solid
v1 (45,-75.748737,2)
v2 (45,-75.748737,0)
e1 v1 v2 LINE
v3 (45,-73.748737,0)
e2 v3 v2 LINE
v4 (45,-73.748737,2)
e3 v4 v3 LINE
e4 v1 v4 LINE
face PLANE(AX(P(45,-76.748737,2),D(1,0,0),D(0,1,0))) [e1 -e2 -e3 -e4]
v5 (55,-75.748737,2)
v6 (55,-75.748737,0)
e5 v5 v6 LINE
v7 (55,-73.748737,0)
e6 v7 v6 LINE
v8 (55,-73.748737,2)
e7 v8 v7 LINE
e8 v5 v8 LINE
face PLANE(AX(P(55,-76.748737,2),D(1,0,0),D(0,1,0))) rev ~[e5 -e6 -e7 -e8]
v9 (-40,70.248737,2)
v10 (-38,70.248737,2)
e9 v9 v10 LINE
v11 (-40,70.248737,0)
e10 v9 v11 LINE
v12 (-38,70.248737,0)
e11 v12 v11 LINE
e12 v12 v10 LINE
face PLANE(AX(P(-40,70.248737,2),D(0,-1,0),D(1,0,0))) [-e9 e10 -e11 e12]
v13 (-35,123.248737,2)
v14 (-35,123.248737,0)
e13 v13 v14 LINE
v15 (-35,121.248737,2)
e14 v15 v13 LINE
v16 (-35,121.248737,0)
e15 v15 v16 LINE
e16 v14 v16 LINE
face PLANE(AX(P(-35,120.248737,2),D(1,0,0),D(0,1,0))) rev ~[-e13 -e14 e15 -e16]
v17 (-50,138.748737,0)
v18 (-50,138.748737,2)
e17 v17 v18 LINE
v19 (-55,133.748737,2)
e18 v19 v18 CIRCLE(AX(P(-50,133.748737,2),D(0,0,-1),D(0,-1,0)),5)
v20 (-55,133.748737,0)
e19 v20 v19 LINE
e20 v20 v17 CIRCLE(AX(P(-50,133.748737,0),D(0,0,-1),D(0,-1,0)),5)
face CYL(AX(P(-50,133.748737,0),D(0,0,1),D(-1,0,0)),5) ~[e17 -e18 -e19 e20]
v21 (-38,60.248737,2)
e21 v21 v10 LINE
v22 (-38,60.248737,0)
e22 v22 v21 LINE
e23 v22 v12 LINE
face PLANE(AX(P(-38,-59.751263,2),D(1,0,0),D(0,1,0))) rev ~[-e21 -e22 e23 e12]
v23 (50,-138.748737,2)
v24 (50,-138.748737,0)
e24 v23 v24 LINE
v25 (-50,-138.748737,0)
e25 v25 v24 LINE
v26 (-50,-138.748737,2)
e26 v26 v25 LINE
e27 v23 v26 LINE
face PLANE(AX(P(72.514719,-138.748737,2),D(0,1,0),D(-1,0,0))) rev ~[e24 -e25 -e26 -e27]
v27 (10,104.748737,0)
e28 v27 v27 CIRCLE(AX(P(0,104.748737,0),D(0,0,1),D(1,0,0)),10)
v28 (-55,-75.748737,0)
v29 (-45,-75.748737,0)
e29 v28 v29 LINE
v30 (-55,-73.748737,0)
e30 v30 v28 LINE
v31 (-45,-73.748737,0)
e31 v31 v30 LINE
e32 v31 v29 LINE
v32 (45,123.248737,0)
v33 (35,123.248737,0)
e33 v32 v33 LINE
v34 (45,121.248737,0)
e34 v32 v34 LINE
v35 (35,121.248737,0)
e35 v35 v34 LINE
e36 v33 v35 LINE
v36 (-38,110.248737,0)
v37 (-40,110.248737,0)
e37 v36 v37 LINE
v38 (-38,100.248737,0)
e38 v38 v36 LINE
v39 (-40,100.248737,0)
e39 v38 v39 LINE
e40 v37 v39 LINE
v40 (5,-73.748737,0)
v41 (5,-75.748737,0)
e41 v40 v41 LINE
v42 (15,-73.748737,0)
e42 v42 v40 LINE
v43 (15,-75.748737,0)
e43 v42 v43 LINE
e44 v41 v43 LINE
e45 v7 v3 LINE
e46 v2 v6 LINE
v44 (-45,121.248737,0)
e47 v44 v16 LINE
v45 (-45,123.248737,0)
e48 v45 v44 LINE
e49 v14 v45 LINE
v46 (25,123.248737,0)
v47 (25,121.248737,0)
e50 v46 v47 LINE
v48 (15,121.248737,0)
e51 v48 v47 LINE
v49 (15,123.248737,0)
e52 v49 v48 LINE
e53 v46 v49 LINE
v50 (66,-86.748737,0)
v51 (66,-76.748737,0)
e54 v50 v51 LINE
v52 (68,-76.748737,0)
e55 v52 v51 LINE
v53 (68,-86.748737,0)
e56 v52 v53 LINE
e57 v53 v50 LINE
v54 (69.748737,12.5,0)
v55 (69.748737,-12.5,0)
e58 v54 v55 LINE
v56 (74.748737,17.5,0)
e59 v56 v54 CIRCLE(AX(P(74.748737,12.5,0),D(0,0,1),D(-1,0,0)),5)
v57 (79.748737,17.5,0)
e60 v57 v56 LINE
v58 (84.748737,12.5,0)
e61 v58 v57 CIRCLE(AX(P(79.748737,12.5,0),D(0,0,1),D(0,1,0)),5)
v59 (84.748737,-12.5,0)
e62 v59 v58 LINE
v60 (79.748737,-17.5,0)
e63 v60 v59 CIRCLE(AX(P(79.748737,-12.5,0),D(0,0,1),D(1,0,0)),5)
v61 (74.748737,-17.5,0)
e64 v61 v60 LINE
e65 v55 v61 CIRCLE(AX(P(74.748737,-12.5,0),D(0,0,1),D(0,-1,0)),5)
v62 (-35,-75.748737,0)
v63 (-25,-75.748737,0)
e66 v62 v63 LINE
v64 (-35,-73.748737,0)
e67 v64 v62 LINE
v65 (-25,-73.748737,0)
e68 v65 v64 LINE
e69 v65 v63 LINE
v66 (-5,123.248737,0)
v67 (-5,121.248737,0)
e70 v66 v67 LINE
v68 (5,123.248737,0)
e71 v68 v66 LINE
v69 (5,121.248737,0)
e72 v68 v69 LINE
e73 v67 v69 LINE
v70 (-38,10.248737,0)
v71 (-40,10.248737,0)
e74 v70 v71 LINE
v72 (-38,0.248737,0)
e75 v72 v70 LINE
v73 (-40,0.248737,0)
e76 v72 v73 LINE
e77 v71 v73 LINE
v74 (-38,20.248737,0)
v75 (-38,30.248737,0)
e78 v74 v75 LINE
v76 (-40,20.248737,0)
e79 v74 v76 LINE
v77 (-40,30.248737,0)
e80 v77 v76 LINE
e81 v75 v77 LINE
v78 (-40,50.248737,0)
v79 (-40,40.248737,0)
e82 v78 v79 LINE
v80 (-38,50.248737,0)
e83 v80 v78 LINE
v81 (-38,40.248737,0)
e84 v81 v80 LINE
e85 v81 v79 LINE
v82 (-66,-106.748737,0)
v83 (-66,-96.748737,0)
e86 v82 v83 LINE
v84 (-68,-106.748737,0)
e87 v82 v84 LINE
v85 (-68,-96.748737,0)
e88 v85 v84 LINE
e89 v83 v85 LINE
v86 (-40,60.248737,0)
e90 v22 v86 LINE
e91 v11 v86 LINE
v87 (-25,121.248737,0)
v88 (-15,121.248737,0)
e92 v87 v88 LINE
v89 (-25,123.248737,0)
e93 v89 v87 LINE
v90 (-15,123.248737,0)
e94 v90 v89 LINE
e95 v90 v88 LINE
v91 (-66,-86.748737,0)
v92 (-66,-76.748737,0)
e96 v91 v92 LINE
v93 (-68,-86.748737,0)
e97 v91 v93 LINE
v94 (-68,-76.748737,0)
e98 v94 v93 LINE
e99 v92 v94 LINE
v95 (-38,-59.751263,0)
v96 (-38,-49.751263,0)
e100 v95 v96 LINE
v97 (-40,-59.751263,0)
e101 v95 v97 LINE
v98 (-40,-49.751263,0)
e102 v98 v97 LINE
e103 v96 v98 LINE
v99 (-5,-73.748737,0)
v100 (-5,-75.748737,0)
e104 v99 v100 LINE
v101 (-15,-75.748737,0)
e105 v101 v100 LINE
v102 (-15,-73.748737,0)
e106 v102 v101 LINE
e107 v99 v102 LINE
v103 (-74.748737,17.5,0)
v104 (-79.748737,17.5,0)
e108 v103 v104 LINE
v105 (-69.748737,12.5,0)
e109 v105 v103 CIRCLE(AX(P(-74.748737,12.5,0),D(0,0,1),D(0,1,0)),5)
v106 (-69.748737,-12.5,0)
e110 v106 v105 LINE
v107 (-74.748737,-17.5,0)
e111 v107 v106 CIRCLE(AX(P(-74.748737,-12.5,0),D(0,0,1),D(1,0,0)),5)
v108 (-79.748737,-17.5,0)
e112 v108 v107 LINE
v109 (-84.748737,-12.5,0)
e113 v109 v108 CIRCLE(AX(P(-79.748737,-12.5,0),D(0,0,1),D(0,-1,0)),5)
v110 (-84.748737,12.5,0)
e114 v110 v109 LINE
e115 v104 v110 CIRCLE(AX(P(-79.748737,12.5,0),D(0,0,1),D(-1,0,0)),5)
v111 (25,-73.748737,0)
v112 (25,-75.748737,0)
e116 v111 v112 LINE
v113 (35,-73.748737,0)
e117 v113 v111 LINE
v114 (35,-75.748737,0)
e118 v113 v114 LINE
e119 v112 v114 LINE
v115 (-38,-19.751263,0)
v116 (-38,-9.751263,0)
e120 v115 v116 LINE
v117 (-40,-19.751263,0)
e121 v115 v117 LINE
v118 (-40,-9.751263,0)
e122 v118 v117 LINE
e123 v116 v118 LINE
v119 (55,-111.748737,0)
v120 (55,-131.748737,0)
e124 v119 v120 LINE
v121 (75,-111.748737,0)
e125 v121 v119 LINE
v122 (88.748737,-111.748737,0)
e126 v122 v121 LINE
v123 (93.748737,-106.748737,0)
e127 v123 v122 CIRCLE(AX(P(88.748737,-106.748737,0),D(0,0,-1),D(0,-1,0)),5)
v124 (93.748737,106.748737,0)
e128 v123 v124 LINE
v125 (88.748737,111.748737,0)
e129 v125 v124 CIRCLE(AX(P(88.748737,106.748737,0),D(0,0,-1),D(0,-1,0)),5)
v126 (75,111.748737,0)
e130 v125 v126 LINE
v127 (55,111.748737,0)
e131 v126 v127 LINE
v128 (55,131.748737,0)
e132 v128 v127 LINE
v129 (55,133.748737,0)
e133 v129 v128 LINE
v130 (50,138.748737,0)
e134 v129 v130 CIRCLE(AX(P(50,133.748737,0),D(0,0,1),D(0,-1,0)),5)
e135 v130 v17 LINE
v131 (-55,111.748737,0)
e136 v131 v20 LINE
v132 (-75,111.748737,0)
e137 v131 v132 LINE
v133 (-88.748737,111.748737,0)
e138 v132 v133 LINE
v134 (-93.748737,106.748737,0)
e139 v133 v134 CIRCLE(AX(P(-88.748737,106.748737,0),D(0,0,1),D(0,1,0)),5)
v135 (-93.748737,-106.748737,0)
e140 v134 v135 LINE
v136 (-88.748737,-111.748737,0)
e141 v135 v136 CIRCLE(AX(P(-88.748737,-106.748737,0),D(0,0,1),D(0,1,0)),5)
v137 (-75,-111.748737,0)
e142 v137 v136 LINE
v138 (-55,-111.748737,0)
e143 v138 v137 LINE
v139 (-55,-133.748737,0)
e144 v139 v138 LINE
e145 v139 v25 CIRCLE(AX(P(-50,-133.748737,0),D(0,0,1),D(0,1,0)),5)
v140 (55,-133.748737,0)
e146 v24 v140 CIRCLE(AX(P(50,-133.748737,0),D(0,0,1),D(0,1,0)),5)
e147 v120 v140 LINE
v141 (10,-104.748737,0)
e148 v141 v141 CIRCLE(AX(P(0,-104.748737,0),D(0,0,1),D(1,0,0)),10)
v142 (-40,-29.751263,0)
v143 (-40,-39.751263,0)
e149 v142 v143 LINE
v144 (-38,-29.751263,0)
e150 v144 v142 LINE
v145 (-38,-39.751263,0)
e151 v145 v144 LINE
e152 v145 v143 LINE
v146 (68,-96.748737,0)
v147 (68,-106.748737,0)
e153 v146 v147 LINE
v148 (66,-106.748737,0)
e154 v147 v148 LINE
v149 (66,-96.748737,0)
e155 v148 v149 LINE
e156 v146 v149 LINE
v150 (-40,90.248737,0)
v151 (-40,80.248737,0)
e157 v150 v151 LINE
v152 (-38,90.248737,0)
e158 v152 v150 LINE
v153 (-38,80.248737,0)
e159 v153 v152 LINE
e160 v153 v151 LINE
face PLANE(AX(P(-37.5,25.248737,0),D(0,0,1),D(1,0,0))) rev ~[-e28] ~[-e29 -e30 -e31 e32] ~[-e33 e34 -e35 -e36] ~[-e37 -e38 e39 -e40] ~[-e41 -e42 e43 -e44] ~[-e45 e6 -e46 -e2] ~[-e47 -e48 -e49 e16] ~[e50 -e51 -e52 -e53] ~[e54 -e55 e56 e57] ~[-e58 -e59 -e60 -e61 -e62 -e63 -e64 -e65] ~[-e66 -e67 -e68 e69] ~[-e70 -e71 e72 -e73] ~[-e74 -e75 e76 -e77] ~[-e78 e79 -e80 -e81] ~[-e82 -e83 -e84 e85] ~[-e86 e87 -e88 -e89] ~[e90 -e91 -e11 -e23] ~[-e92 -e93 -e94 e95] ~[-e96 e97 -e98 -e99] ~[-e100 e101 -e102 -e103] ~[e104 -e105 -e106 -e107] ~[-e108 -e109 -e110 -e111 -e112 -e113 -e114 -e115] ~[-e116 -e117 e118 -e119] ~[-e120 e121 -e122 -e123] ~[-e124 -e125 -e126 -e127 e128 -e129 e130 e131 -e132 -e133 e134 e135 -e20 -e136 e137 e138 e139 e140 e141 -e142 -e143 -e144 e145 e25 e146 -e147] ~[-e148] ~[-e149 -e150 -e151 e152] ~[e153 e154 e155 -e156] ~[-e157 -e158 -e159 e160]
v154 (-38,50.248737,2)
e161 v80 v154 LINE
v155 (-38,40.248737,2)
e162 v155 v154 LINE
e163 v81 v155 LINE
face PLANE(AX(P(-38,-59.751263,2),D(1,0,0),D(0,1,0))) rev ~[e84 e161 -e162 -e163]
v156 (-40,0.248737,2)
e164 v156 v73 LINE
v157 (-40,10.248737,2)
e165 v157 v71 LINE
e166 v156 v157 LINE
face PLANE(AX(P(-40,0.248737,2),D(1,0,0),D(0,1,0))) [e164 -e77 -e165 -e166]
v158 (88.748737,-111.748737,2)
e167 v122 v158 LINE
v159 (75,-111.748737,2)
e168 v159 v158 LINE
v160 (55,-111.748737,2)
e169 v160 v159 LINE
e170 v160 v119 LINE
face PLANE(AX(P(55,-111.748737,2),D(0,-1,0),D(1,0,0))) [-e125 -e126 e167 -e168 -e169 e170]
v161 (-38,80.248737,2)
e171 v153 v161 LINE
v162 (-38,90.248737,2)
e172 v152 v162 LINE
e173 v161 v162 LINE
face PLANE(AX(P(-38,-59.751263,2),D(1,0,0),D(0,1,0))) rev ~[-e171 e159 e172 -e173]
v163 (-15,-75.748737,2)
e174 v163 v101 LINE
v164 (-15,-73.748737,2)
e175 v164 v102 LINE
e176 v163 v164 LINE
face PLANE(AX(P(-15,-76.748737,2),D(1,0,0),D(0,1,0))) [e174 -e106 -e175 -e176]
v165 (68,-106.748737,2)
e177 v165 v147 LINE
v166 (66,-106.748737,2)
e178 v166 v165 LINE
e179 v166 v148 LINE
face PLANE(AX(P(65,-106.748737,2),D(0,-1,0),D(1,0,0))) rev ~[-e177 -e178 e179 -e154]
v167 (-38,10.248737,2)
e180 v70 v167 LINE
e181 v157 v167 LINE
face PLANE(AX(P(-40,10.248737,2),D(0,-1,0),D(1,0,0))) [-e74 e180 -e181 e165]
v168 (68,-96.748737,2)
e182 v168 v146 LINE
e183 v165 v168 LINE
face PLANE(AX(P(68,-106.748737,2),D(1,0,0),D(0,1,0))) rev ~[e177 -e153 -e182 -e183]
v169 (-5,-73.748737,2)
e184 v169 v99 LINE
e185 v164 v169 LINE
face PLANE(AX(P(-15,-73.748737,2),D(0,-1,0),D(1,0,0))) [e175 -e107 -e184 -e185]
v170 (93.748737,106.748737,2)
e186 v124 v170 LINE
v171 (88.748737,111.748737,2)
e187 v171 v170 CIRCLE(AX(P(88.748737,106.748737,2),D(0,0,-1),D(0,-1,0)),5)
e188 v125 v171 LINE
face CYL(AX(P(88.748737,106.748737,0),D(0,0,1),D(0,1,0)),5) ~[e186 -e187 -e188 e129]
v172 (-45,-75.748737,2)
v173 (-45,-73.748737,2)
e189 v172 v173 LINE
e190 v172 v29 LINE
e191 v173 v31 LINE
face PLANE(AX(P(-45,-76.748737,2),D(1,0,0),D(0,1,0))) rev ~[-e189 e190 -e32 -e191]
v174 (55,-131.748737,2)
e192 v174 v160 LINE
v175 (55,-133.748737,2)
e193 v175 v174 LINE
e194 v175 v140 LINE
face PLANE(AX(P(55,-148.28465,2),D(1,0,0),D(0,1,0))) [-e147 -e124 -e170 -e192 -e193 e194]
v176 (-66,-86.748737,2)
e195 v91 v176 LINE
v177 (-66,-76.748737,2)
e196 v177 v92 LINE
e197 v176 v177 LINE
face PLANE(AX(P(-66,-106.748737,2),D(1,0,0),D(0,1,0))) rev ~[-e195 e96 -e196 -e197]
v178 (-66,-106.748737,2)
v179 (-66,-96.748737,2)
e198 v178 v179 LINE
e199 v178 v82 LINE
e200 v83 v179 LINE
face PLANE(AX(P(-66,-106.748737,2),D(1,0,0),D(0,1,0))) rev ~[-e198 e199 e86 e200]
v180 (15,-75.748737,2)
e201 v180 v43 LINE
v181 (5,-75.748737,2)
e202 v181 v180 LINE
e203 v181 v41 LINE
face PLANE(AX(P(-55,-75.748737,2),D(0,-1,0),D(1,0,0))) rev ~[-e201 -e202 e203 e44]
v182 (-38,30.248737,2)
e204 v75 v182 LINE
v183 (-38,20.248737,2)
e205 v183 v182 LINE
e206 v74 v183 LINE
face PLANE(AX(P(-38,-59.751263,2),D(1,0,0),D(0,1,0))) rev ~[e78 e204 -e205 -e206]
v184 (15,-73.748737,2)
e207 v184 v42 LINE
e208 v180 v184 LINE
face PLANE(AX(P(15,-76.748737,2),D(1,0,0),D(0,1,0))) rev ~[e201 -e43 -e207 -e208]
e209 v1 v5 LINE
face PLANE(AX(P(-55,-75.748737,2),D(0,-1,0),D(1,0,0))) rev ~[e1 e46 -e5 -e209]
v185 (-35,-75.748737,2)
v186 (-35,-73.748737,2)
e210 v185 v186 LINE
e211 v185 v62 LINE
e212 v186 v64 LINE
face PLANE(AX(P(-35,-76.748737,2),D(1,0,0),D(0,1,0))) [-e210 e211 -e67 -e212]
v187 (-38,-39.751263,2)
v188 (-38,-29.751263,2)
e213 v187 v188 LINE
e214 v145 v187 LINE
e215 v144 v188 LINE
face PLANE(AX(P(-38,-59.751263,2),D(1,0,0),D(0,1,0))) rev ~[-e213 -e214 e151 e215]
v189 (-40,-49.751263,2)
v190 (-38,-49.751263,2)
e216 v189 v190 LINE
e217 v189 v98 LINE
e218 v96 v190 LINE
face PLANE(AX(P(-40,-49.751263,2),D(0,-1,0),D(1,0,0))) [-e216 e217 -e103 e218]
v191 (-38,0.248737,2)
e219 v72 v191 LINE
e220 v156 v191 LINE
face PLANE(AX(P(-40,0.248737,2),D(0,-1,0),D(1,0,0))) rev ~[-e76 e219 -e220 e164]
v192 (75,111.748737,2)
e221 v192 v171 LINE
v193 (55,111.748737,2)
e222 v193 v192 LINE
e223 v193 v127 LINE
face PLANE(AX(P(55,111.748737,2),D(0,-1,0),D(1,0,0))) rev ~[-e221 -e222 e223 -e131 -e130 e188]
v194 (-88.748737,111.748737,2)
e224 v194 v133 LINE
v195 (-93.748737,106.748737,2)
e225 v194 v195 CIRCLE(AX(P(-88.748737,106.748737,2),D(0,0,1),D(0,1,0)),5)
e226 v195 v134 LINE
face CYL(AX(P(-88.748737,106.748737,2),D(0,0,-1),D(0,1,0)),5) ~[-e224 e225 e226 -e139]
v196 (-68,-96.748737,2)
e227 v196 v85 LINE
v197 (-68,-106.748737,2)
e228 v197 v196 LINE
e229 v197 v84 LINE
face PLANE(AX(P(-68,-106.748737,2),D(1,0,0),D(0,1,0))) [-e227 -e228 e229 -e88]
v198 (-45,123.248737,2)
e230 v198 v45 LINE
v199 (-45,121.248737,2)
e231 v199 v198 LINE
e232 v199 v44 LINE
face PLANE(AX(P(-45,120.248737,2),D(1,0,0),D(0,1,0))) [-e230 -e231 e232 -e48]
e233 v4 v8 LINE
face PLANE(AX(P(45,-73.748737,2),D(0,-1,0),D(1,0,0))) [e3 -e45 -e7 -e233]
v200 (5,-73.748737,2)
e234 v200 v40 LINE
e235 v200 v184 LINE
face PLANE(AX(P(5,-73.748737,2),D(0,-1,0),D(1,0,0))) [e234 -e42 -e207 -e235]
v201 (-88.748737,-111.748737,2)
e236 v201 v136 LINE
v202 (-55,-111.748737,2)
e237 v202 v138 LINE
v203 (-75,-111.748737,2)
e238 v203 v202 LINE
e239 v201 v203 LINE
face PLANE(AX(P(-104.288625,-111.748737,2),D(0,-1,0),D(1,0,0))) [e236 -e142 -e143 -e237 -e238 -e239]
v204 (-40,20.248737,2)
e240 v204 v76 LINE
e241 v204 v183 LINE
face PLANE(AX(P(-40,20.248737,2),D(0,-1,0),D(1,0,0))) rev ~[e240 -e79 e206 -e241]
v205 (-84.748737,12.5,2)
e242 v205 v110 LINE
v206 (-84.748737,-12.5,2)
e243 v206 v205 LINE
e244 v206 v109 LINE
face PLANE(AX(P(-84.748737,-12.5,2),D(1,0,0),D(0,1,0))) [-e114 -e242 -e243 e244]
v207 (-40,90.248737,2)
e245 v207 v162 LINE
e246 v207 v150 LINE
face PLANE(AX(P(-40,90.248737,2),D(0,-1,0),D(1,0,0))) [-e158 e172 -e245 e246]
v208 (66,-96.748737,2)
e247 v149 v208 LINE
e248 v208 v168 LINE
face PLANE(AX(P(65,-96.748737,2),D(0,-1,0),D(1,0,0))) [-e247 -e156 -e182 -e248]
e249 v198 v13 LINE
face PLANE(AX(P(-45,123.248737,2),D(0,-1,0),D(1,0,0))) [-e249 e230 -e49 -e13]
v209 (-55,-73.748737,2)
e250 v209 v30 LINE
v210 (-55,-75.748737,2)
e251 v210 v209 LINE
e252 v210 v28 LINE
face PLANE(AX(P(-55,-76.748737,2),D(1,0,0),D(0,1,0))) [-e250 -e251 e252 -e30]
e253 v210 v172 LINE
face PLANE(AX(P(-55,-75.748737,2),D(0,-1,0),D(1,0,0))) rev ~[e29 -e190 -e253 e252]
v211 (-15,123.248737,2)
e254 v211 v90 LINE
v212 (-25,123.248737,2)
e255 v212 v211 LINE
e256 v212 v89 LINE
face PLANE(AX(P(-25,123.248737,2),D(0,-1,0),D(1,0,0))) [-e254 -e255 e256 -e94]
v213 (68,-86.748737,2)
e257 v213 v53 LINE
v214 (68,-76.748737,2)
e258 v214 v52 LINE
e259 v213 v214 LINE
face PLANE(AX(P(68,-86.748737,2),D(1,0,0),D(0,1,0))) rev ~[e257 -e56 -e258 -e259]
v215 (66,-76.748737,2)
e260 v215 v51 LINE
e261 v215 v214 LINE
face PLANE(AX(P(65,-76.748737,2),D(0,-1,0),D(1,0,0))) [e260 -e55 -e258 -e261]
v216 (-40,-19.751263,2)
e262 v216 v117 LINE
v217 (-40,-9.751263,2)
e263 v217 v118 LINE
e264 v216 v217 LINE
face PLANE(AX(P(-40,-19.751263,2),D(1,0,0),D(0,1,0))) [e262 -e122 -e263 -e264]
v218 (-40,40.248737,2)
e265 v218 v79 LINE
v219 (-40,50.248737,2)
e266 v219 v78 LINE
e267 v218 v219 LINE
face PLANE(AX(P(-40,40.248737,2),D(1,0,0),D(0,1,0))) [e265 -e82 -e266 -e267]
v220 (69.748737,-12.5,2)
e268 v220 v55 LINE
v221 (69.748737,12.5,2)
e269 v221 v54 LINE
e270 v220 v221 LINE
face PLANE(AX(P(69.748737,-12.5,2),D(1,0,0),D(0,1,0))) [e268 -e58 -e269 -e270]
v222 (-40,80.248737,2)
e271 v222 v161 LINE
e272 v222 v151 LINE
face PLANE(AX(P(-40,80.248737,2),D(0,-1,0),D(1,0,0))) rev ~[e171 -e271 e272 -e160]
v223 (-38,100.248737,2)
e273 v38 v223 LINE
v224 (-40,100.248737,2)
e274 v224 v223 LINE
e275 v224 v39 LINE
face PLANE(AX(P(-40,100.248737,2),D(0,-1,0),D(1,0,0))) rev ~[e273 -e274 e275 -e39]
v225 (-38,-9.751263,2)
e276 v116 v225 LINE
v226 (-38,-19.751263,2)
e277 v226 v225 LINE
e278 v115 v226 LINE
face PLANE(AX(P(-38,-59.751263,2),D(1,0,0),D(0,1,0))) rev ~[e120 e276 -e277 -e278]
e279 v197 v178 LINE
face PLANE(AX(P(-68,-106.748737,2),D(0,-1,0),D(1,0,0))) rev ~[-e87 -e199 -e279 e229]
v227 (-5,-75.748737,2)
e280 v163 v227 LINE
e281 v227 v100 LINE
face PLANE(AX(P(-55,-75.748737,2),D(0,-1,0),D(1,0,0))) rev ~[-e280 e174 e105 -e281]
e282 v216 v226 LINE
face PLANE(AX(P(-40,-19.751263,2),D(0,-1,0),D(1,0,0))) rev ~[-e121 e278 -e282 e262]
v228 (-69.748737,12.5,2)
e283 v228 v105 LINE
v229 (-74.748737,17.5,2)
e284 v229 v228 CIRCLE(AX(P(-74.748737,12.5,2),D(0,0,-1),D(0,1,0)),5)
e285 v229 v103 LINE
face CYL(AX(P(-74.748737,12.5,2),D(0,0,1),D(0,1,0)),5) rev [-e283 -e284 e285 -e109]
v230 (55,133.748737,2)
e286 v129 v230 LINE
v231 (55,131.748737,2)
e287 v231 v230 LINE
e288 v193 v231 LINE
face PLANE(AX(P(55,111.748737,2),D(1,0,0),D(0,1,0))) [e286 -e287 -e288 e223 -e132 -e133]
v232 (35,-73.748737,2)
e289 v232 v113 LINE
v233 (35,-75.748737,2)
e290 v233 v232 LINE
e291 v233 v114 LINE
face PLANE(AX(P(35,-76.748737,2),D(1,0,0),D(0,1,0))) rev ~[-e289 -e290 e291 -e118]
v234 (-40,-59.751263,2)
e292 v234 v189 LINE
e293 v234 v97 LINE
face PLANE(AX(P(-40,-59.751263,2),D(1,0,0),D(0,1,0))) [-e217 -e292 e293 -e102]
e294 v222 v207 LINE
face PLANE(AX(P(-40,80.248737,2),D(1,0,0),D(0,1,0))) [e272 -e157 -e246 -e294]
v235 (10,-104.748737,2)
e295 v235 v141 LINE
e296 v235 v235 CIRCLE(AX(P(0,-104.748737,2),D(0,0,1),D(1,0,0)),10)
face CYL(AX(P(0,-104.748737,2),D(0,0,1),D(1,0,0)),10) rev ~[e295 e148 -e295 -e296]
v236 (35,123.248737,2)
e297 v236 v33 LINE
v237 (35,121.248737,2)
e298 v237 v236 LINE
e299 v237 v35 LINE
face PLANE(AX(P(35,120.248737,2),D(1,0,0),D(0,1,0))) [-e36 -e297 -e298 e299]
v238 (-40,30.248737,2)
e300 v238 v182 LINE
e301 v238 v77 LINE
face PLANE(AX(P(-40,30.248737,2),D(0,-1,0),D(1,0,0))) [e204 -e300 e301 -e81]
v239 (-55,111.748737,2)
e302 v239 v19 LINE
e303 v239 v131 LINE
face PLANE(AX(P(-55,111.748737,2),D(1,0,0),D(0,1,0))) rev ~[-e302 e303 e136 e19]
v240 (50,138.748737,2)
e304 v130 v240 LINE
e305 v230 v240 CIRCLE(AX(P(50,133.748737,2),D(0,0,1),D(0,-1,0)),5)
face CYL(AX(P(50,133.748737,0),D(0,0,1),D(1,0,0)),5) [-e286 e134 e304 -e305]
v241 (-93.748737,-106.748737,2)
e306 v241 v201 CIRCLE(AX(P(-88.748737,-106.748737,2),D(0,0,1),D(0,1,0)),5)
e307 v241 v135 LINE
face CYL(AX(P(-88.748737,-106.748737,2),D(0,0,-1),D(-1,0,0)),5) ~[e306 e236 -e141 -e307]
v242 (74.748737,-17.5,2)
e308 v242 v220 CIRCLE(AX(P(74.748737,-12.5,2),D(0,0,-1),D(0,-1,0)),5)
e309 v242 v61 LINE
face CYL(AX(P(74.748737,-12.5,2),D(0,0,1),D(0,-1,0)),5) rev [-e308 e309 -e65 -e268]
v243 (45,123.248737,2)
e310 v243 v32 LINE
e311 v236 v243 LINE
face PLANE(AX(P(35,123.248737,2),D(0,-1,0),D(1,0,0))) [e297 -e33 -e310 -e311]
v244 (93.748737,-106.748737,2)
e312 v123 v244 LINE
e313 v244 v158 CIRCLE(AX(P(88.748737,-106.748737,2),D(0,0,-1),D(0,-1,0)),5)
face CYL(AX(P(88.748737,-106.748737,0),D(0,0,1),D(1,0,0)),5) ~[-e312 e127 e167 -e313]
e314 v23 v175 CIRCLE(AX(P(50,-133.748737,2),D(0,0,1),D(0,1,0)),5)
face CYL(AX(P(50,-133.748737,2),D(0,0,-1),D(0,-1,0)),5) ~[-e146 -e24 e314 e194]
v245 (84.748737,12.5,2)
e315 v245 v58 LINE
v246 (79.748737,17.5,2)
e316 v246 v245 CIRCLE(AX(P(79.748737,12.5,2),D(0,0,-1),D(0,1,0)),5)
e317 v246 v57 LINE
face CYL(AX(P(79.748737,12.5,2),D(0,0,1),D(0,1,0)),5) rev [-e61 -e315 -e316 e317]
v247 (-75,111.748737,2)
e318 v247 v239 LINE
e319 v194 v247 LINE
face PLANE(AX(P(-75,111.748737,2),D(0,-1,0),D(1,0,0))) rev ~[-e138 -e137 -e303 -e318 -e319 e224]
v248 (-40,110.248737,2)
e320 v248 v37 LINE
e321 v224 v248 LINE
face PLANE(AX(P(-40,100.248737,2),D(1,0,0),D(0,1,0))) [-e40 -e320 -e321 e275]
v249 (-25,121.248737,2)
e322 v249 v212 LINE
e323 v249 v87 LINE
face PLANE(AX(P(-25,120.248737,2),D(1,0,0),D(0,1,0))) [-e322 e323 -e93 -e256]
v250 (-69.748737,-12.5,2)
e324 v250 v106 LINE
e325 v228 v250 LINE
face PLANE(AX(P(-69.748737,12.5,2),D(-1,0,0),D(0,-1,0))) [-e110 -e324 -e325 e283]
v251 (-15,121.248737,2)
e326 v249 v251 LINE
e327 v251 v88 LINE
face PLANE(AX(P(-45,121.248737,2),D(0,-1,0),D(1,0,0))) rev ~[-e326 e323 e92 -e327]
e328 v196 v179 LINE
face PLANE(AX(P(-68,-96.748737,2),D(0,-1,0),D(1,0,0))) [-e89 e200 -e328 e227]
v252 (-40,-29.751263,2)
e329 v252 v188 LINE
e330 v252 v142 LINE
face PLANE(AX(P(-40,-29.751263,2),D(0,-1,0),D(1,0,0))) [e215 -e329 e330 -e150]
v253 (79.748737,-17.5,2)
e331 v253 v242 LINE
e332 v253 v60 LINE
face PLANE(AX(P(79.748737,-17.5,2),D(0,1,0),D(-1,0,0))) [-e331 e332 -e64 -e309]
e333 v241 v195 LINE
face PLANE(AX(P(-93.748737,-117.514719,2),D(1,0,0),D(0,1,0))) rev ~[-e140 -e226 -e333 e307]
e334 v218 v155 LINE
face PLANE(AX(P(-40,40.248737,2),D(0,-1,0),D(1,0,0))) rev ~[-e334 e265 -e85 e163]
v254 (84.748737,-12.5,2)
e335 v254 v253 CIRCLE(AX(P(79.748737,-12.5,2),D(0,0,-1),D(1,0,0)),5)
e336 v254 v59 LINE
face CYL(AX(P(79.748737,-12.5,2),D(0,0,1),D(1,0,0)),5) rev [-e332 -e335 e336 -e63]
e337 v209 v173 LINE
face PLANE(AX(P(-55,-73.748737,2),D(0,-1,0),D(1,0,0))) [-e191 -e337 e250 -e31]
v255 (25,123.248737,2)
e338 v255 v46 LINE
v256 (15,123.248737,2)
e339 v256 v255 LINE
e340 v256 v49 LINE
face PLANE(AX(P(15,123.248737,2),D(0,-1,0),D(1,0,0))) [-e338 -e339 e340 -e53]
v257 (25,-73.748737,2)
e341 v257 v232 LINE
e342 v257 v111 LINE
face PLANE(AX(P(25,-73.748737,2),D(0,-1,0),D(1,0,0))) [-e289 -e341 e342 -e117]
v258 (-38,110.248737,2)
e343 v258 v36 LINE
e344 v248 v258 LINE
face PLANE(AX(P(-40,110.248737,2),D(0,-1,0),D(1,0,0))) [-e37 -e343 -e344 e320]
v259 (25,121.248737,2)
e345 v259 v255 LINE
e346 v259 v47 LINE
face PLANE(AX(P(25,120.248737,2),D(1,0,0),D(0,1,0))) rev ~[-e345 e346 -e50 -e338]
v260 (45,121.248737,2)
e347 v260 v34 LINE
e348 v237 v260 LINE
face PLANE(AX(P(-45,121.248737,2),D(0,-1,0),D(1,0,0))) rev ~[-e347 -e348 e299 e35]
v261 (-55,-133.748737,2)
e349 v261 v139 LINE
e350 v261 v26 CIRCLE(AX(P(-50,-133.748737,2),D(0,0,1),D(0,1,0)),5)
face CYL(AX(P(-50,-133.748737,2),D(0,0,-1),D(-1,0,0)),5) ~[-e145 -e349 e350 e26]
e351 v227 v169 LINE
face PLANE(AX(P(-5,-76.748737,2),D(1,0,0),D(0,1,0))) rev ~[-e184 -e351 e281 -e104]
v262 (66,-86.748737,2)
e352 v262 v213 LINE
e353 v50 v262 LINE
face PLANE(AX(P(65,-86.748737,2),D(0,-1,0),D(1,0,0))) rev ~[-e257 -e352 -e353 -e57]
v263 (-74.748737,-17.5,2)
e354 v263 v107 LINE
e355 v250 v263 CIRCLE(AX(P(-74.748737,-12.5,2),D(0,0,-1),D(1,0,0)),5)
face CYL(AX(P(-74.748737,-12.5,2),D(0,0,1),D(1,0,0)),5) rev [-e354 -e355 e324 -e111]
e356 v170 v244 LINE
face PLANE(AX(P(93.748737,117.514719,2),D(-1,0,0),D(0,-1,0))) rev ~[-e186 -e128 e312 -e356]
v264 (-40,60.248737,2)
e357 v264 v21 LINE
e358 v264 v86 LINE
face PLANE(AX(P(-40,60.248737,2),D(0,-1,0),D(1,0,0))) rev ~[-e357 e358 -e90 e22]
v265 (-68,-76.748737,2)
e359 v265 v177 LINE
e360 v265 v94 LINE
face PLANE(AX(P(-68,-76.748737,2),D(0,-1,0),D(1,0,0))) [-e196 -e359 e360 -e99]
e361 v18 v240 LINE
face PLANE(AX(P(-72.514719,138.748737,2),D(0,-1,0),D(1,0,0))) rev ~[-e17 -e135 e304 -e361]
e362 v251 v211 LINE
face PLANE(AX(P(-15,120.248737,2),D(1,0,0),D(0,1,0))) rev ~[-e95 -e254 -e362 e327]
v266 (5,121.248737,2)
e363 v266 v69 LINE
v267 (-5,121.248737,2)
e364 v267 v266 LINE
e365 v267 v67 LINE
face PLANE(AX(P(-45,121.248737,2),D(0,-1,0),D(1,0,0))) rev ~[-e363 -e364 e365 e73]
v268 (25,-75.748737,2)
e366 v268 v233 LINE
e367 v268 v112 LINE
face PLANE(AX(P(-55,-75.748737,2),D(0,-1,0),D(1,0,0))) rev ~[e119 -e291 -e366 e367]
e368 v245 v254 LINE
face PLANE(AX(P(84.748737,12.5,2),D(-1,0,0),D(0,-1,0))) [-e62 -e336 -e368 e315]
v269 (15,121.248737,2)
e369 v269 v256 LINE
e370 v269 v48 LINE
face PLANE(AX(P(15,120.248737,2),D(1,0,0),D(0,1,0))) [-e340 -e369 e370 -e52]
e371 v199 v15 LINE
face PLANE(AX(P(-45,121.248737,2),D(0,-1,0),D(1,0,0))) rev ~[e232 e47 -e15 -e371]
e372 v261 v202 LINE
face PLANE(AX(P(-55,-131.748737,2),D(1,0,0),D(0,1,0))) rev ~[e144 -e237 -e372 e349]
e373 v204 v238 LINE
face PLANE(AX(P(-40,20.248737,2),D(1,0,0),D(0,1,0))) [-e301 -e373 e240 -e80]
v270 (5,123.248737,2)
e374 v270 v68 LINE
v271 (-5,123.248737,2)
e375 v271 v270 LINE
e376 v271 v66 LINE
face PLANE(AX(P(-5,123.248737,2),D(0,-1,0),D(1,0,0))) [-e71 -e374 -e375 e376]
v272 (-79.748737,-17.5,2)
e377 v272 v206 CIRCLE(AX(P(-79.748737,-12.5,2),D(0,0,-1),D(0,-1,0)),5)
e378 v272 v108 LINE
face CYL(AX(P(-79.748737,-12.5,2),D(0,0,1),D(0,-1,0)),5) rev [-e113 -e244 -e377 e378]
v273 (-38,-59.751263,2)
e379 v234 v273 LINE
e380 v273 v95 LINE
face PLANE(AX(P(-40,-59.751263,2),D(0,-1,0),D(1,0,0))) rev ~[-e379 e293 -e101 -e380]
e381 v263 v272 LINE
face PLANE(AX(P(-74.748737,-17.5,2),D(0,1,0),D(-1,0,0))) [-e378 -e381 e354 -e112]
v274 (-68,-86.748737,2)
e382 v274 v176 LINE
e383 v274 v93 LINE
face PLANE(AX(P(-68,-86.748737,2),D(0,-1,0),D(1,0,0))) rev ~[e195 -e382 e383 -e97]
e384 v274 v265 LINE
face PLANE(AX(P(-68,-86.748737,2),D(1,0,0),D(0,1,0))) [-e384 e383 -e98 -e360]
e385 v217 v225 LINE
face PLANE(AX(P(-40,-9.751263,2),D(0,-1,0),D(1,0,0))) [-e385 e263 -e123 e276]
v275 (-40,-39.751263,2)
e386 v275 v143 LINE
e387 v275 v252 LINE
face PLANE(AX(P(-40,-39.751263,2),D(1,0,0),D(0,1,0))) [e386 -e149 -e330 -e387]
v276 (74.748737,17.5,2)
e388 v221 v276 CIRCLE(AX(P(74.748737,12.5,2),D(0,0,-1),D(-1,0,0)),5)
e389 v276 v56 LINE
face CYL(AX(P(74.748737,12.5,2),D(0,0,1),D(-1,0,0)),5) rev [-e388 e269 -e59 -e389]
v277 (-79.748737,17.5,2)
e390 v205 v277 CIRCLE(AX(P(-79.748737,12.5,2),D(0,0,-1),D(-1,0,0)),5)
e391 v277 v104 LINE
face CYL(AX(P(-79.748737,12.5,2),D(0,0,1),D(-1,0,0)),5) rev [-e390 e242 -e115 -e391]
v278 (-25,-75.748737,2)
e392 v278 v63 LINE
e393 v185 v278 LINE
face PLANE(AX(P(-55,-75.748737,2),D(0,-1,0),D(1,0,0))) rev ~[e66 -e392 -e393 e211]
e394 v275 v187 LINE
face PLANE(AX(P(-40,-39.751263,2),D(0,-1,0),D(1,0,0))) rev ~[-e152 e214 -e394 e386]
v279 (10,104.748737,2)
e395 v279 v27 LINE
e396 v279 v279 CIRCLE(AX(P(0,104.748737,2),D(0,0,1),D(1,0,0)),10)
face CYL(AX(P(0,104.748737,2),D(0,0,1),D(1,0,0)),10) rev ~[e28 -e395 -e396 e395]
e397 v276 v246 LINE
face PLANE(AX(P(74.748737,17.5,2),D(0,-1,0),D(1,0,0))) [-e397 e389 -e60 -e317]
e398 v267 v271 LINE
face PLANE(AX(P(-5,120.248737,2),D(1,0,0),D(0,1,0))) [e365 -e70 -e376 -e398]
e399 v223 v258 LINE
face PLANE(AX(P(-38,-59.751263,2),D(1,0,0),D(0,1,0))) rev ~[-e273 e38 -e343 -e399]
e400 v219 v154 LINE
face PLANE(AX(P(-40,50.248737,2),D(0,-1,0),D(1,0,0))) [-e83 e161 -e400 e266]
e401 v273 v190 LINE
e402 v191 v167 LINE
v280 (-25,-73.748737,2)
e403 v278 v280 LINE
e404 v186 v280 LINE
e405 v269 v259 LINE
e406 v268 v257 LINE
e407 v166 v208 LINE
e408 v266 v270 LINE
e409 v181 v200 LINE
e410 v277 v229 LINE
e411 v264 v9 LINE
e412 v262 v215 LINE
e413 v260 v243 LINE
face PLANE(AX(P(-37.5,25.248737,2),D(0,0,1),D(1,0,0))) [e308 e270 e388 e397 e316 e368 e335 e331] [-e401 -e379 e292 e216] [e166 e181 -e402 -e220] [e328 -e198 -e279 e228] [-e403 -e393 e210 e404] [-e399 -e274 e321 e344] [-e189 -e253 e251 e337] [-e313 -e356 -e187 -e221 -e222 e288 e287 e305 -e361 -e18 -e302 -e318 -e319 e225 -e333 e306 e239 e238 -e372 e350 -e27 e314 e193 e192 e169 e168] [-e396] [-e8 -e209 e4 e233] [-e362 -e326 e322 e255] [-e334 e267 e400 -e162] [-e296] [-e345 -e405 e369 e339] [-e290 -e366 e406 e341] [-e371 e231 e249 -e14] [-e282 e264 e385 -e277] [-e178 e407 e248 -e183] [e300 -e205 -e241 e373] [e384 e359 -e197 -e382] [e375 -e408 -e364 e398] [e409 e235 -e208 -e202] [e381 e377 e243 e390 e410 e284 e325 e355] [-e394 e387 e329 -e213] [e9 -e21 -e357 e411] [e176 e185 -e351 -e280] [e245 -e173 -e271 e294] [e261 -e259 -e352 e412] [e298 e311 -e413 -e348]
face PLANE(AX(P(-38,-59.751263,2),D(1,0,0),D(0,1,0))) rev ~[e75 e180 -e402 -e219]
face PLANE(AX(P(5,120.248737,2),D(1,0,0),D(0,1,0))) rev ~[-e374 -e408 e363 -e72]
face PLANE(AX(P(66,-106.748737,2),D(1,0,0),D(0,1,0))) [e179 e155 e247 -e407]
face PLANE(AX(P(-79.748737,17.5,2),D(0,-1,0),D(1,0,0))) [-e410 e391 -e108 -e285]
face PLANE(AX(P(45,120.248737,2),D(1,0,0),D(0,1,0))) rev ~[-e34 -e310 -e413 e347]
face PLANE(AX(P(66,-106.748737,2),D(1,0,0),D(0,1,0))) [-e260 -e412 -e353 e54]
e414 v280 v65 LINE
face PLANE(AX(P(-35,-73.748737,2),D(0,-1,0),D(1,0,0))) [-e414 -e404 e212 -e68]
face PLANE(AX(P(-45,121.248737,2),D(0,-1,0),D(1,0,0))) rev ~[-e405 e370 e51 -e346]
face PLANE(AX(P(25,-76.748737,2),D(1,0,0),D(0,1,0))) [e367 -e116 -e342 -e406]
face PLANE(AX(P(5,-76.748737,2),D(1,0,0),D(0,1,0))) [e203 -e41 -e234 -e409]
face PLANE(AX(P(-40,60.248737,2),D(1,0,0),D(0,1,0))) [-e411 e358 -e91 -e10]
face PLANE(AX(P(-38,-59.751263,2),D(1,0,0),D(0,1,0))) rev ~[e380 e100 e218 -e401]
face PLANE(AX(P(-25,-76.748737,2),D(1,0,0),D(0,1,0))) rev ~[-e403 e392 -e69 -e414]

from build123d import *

# Parameters (mm, degrees)
BASE_DEPTH                   = 2
ESQUISSE2_W                  = 20
ESQUISSE2_H                  = 20
PER_AGE_PROFIL_DEPTH         = 5
ESQUISSE3_R                  = 10
TROUS_C_BLE_BREADBOARD_DEPTH = 5
SKETCH2_W                    = 10
SKETCH2_H                    = 3
SKETCH2_W_2                  = 3
SKETCH2_H_2                  = 10
CUT_EXTRUDE1_DEPTH           = 3
ENL_V_MAT_EXTRU_1_DEPTH      = 3
ESQUISSE6_W                  = 67.618725508
ESQUISSE6_H                  = 41.085883865
ESQUISSE6_W_2                = 53.230557381
ESQUISSE6_H_2                = 34.991468873
ESQUISSE6_W_3                = 73.131534877
ESQUISSE6_H_3                = 36.535913055
ESQUISSE6_W_4                = 49.288624516
ESQUISSE6_H_4                = 35.233839469
ENL_V_MAT_EXTRU_2_DEPTH      = 3
CONG_2_R                     = 5
ESQUISSE7_W                  = 1
ESQUISSE7_H                  = 170
ESQUISSE7_H_2                = 30
ESQUISSE7_W_2                = 90
ESQUISSE7_H_3                = 1
ESQUISSE7_W_3                = 110
BOSS_EXTRU_1_DEPTH           = 2
CONG_3_R                     = 5


with BuildPart() as part:
    # Esquisse1 → Base (new body)
    with BuildSketch(Plane.XY):
        Polygon((-99.748737342, 120), (-75, 144.748737342), (75, 144.748737342), (99.748737342, 120), (99.748737342, -120), (75, -144.748737342), (-75, -144.748737342), (-99.748737342, -120), align=None)
    extrude(amount=BASE_DEPTH)

    # Esquisse2 → Perçage profilé (cut)
    with BuildSketch(Plane.XY.offset(2)):
        with Locations((65, 121.748737342)):
            Rectangle(ESQUISSE2_W, ESQUISSE2_H)
        with Locations((-65, 121.748737342)):
            Rectangle(ESQUISSE2_W, ESQUISSE2_H)
        with Locations((65, -121.748737342)):
            Rectangle(ESQUISSE2_W, ESQUISSE2_H)
        with Locations((-65, -121.748737342)):
            Rectangle(ESQUISSE2_W, ESQUISSE2_H)
    extrude(amount=-PER_AGE_PROFIL_DEPTH, mode=Mode.SUBTRACT)

    # Esquisse3 → Trous câble breadboard (cut)
    with BuildSketch(Plane.XY.offset(2)):
        with Locations((0, -104.748737342)):
            Circle(ESQUISSE3_R)
        with Locations((0, 104.748737342)):
            Circle(ESQUISSE3_R)
        with BuildLine():
            Line((79.748737342, -17.5), (74.748737342, -17.5))
            ThreePointArc((74.748737342, -17.5), (71.213203436, -16.035533906), (69.748737342, -12.5))
            Line((69.748737342, -12.5), (69.748737342, 12.5))
            ThreePointArc((69.748737342, 12.5), (71.213203436, 16.035533906), (74.748737342, 17.5))
            Line((74.748737342, 17.5), (79.748737342, 17.5))
            ThreePointArc((79.748737342, 17.5), (83.284271247, 16.035533906), (84.748737342, 12.5))
            Line((84.748737342, 12.5), (84.748737342, -12.5))
            ThreePointArc((84.748737342, -12.5), (83.284271247, -16.035533906), (79.748737342, -17.5))
        make_face()
        with BuildLine():
            Line((-79.748737342, 17.5), (-74.748737342, 17.5))
            ThreePointArc((-74.748737342, 17.5), (-71.213203436, 16.035533906), (-69.748737342, 12.5))
            Line((-69.748737342, 12.5), (-69.748737342, -12.5))
            ThreePointArc((-69.748737342, -12.5), (-71.213203436, -16.035533906), (-74.748737342, -17.5))
            Line((-74.748737342, -17.5), (-79.748737342, -17.5))
            ThreePointArc((-79.748737342, -17.5), (-83.284271247, -16.035533906), (-84.748737342, -12.5))
            Line((-84.748737342, -12.5), (-84.748737342, 12.5))
            ThreePointArc((-84.748737342, 12.5), (-83.284271247, 16.035533906), (-79.748737342, 17.5))
        make_face()
    extrude(amount=-TROUS_C_BLE_BREADBOARD_DEPTH, mode=Mode.SUBTRACT)

    # Sketch2 → Cut-Extrude1 (cut, through all)
    with BuildSketch(Plane.XY.offset(2)):
        with Locations((-40, 121.748737342)):
            Rectangle(SKETCH2_W, SKETCH2_H)
        with Locations((-20, 121.748737342)):
            Rectangle(SKETCH2_W, SKETCH2_H)
        with Locations((0, 121.748737342)):
            Rectangle(SKETCH2_W, SKETCH2_H)
        with Locations((20, 121.748737342)):
            Rectangle(SKETCH2_W, SKETCH2_H)
        with Locations((40, 121.748737342)):
            Rectangle(SKETCH2_W, SKETCH2_H)
        with Locations((-66.5, -101.748737342)):
            Rectangle(SKETCH2_W_2, SKETCH2_H_2)
        with Locations((-38.5, 85.248737342)):
            Rectangle(SKETCH2_W_2, SKETCH2_H_2)
        with Locations((-38.5, 105.248737342)):
            Rectangle(SKETCH2_W_2, SKETCH2_H_2)
        with Locations((-66.5, -81.748737342)):
            Rectangle(SKETCH2_W_2, SKETCH2_H_2)
        with Locations((66.5, -81.748737342)):
            Rectangle(SKETCH2_W_2, SKETCH2_H_2)
        with Locations((66.5, -101.748737342)):
            Rectangle(SKETCH2_W_2, SKETCH2_H_2)
        with Locations((-30, -75.248737342)):
            Rectangle(SKETCH2_W, SKETCH2_H)
        with Locations((-50, -75.248737342)):
            Rectangle(SKETCH2_W, SKETCH2_H)
        with Locations((-10, -75.248737342)):
            Rectangle(SKETCH2_W, SKETCH2_H)
        with Locations((10, -75.248737342)):
            Rectangle(SKETCH2_W, SKETCH2_H)
        with Locations((30, -75.248737342)):
            Rectangle(SKETCH2_W, SKETCH2_H)
        with Locations((50, -75.248737342)):
            Rectangle(SKETCH2_W, SKETCH2_H)
        with Locations((-38.5, 65.248737342)):
            Rectangle(SKETCH2_W_2, SKETCH2_H_2)
        with Locations((-38.5, 45.248737342)):
            Rectangle(SKETCH2_W_2, SKETCH2_H_2)
        with Locations((-38.5, 25.248737342)):
            Rectangle(SKETCH2_W_2, SKETCH2_H_2)
        with Locations((-38.5, 5.248737342)):
            Rectangle(SKETCH2_W_2, SKETCH2_H_2)
        with Locations((-38.5, -14.751262658)):
            Rectangle(SKETCH2_W_2, SKETCH2_H_2)
        with Locations((-38.5, -34.751262658)):
            Rectangle(SKETCH2_W_2, SKETCH2_H_2)
        with Locations((-38.5, -54.751262658)):
            Rectangle(SKETCH2_W_2, SKETCH2_H_2)
    extrude(amount=-CUT_EXTRUDE1_DEPTH, mode=Mode.SUBTRACT)

    # Esquisse5 → Enlèv. mat.-Extru.1 (cut, through all)
    with BuildSketch(Plane.XY.offset(2)):
        Polygon((-16.674289333, 205.045094985), (192.81948305, 199.325128504), (168.509625504, -212.512458161), (-168.968396902, -176.762667652), (-185.413300536, 175.015270958), align=None)
        Polygon((-72.514718626, 138.748737342), (72.514718626, 138.748737342), (93.748737342, 117.514718626), (93.748737342, -117.514718626), (72.514718626, -138.748737342), (-72.514718626, -138.748737342), (-93.748737342, -117.514718626), (-93.748737342, 117.514718626), align=None, mode=Mode.SUBTRACT)
    extrude(amount=-ENL_V_MAT_EXTRU_1_DEPTH, mode=Mode.SUBTRACT)

    # Esquisse6 → Enlèv. mat.-Extru.2 (cut, through all)
    with BuildSketch(Plane.XY.offset(2)):
        with Locations((-88.809362754, 132.291679275)):
            Rectangle(ESQUISSE6_W, ESQUISSE6_H)
        with Locations((81.615278691, 129.244471779)):
            Rectangle(ESQUISSE6_W_2, ESQUISSE6_H_2)
        with Locations((91.565767439, -130.01669387)):
            Rectangle(ESQUISSE6_W_3, ESQUISSE6_H_3)
        with Locations((-79.644312258, -129.365657077)):
            Rectangle(ESQUISSE6_W_4, ESQUISSE6_H_4)
    extrude(amount=-ENL_V_MAT_EXTRU_2_DEPTH, mode=Mode.SUBTRACT)

    # Congé2
    cong_2_edges = [part.edges().sort_by_distance(p)[0] for p in [
        (55, -138.748737342, 1),
        (-55, -138.748737342, 1),
        (-55, 138.748737342, 1),
        (55, 138.748737342, 1),
    ]]
    fillet(cong_2_edges, radius=CONG_2_R)

    # Esquisse7 → Boss.-Extru.1 (add)
    with BuildSketch(Plane.XY.offset(2)):
        with Locations((-37.5, 25.248737342)):
            Rectangle(ESQUISSE7_W, ESQUISSE7_H)
        with Locations((-65.5, -91.748737342)):
            Rectangle(ESQUISSE7_W, ESQUISSE7_H_2)
        with Locations((65.5, -91.748737342)):
            Rectangle(ESQUISSE7_W, ESQUISSE7_H_2)
        with Locations((0, 120.748737342)):
            Rectangle(ESQUISSE7_W_2, ESQUISSE7_H_3)
        with Locations((0, -76.248737342)):
            Rectangle(ESQUISSE7_W_3, ESQUISSE7_H_3)
    extrude(amount=-BOSS_EXTRU_1_DEPTH)

    # Congé3
    cong_3_edges = [part.edges().sort_by_distance(p)[0] for p in [
        (-93.748737342, 111.748737342, 1),
        (-93.748737342, -111.748737342, 1),
        (93.748737342, 111.748737342, 1),
        (93.748737342, -111.748737342, 1),
    ]]
    fillet(cong_3_edges, radius=CONG_3_R)


solid = part.part
